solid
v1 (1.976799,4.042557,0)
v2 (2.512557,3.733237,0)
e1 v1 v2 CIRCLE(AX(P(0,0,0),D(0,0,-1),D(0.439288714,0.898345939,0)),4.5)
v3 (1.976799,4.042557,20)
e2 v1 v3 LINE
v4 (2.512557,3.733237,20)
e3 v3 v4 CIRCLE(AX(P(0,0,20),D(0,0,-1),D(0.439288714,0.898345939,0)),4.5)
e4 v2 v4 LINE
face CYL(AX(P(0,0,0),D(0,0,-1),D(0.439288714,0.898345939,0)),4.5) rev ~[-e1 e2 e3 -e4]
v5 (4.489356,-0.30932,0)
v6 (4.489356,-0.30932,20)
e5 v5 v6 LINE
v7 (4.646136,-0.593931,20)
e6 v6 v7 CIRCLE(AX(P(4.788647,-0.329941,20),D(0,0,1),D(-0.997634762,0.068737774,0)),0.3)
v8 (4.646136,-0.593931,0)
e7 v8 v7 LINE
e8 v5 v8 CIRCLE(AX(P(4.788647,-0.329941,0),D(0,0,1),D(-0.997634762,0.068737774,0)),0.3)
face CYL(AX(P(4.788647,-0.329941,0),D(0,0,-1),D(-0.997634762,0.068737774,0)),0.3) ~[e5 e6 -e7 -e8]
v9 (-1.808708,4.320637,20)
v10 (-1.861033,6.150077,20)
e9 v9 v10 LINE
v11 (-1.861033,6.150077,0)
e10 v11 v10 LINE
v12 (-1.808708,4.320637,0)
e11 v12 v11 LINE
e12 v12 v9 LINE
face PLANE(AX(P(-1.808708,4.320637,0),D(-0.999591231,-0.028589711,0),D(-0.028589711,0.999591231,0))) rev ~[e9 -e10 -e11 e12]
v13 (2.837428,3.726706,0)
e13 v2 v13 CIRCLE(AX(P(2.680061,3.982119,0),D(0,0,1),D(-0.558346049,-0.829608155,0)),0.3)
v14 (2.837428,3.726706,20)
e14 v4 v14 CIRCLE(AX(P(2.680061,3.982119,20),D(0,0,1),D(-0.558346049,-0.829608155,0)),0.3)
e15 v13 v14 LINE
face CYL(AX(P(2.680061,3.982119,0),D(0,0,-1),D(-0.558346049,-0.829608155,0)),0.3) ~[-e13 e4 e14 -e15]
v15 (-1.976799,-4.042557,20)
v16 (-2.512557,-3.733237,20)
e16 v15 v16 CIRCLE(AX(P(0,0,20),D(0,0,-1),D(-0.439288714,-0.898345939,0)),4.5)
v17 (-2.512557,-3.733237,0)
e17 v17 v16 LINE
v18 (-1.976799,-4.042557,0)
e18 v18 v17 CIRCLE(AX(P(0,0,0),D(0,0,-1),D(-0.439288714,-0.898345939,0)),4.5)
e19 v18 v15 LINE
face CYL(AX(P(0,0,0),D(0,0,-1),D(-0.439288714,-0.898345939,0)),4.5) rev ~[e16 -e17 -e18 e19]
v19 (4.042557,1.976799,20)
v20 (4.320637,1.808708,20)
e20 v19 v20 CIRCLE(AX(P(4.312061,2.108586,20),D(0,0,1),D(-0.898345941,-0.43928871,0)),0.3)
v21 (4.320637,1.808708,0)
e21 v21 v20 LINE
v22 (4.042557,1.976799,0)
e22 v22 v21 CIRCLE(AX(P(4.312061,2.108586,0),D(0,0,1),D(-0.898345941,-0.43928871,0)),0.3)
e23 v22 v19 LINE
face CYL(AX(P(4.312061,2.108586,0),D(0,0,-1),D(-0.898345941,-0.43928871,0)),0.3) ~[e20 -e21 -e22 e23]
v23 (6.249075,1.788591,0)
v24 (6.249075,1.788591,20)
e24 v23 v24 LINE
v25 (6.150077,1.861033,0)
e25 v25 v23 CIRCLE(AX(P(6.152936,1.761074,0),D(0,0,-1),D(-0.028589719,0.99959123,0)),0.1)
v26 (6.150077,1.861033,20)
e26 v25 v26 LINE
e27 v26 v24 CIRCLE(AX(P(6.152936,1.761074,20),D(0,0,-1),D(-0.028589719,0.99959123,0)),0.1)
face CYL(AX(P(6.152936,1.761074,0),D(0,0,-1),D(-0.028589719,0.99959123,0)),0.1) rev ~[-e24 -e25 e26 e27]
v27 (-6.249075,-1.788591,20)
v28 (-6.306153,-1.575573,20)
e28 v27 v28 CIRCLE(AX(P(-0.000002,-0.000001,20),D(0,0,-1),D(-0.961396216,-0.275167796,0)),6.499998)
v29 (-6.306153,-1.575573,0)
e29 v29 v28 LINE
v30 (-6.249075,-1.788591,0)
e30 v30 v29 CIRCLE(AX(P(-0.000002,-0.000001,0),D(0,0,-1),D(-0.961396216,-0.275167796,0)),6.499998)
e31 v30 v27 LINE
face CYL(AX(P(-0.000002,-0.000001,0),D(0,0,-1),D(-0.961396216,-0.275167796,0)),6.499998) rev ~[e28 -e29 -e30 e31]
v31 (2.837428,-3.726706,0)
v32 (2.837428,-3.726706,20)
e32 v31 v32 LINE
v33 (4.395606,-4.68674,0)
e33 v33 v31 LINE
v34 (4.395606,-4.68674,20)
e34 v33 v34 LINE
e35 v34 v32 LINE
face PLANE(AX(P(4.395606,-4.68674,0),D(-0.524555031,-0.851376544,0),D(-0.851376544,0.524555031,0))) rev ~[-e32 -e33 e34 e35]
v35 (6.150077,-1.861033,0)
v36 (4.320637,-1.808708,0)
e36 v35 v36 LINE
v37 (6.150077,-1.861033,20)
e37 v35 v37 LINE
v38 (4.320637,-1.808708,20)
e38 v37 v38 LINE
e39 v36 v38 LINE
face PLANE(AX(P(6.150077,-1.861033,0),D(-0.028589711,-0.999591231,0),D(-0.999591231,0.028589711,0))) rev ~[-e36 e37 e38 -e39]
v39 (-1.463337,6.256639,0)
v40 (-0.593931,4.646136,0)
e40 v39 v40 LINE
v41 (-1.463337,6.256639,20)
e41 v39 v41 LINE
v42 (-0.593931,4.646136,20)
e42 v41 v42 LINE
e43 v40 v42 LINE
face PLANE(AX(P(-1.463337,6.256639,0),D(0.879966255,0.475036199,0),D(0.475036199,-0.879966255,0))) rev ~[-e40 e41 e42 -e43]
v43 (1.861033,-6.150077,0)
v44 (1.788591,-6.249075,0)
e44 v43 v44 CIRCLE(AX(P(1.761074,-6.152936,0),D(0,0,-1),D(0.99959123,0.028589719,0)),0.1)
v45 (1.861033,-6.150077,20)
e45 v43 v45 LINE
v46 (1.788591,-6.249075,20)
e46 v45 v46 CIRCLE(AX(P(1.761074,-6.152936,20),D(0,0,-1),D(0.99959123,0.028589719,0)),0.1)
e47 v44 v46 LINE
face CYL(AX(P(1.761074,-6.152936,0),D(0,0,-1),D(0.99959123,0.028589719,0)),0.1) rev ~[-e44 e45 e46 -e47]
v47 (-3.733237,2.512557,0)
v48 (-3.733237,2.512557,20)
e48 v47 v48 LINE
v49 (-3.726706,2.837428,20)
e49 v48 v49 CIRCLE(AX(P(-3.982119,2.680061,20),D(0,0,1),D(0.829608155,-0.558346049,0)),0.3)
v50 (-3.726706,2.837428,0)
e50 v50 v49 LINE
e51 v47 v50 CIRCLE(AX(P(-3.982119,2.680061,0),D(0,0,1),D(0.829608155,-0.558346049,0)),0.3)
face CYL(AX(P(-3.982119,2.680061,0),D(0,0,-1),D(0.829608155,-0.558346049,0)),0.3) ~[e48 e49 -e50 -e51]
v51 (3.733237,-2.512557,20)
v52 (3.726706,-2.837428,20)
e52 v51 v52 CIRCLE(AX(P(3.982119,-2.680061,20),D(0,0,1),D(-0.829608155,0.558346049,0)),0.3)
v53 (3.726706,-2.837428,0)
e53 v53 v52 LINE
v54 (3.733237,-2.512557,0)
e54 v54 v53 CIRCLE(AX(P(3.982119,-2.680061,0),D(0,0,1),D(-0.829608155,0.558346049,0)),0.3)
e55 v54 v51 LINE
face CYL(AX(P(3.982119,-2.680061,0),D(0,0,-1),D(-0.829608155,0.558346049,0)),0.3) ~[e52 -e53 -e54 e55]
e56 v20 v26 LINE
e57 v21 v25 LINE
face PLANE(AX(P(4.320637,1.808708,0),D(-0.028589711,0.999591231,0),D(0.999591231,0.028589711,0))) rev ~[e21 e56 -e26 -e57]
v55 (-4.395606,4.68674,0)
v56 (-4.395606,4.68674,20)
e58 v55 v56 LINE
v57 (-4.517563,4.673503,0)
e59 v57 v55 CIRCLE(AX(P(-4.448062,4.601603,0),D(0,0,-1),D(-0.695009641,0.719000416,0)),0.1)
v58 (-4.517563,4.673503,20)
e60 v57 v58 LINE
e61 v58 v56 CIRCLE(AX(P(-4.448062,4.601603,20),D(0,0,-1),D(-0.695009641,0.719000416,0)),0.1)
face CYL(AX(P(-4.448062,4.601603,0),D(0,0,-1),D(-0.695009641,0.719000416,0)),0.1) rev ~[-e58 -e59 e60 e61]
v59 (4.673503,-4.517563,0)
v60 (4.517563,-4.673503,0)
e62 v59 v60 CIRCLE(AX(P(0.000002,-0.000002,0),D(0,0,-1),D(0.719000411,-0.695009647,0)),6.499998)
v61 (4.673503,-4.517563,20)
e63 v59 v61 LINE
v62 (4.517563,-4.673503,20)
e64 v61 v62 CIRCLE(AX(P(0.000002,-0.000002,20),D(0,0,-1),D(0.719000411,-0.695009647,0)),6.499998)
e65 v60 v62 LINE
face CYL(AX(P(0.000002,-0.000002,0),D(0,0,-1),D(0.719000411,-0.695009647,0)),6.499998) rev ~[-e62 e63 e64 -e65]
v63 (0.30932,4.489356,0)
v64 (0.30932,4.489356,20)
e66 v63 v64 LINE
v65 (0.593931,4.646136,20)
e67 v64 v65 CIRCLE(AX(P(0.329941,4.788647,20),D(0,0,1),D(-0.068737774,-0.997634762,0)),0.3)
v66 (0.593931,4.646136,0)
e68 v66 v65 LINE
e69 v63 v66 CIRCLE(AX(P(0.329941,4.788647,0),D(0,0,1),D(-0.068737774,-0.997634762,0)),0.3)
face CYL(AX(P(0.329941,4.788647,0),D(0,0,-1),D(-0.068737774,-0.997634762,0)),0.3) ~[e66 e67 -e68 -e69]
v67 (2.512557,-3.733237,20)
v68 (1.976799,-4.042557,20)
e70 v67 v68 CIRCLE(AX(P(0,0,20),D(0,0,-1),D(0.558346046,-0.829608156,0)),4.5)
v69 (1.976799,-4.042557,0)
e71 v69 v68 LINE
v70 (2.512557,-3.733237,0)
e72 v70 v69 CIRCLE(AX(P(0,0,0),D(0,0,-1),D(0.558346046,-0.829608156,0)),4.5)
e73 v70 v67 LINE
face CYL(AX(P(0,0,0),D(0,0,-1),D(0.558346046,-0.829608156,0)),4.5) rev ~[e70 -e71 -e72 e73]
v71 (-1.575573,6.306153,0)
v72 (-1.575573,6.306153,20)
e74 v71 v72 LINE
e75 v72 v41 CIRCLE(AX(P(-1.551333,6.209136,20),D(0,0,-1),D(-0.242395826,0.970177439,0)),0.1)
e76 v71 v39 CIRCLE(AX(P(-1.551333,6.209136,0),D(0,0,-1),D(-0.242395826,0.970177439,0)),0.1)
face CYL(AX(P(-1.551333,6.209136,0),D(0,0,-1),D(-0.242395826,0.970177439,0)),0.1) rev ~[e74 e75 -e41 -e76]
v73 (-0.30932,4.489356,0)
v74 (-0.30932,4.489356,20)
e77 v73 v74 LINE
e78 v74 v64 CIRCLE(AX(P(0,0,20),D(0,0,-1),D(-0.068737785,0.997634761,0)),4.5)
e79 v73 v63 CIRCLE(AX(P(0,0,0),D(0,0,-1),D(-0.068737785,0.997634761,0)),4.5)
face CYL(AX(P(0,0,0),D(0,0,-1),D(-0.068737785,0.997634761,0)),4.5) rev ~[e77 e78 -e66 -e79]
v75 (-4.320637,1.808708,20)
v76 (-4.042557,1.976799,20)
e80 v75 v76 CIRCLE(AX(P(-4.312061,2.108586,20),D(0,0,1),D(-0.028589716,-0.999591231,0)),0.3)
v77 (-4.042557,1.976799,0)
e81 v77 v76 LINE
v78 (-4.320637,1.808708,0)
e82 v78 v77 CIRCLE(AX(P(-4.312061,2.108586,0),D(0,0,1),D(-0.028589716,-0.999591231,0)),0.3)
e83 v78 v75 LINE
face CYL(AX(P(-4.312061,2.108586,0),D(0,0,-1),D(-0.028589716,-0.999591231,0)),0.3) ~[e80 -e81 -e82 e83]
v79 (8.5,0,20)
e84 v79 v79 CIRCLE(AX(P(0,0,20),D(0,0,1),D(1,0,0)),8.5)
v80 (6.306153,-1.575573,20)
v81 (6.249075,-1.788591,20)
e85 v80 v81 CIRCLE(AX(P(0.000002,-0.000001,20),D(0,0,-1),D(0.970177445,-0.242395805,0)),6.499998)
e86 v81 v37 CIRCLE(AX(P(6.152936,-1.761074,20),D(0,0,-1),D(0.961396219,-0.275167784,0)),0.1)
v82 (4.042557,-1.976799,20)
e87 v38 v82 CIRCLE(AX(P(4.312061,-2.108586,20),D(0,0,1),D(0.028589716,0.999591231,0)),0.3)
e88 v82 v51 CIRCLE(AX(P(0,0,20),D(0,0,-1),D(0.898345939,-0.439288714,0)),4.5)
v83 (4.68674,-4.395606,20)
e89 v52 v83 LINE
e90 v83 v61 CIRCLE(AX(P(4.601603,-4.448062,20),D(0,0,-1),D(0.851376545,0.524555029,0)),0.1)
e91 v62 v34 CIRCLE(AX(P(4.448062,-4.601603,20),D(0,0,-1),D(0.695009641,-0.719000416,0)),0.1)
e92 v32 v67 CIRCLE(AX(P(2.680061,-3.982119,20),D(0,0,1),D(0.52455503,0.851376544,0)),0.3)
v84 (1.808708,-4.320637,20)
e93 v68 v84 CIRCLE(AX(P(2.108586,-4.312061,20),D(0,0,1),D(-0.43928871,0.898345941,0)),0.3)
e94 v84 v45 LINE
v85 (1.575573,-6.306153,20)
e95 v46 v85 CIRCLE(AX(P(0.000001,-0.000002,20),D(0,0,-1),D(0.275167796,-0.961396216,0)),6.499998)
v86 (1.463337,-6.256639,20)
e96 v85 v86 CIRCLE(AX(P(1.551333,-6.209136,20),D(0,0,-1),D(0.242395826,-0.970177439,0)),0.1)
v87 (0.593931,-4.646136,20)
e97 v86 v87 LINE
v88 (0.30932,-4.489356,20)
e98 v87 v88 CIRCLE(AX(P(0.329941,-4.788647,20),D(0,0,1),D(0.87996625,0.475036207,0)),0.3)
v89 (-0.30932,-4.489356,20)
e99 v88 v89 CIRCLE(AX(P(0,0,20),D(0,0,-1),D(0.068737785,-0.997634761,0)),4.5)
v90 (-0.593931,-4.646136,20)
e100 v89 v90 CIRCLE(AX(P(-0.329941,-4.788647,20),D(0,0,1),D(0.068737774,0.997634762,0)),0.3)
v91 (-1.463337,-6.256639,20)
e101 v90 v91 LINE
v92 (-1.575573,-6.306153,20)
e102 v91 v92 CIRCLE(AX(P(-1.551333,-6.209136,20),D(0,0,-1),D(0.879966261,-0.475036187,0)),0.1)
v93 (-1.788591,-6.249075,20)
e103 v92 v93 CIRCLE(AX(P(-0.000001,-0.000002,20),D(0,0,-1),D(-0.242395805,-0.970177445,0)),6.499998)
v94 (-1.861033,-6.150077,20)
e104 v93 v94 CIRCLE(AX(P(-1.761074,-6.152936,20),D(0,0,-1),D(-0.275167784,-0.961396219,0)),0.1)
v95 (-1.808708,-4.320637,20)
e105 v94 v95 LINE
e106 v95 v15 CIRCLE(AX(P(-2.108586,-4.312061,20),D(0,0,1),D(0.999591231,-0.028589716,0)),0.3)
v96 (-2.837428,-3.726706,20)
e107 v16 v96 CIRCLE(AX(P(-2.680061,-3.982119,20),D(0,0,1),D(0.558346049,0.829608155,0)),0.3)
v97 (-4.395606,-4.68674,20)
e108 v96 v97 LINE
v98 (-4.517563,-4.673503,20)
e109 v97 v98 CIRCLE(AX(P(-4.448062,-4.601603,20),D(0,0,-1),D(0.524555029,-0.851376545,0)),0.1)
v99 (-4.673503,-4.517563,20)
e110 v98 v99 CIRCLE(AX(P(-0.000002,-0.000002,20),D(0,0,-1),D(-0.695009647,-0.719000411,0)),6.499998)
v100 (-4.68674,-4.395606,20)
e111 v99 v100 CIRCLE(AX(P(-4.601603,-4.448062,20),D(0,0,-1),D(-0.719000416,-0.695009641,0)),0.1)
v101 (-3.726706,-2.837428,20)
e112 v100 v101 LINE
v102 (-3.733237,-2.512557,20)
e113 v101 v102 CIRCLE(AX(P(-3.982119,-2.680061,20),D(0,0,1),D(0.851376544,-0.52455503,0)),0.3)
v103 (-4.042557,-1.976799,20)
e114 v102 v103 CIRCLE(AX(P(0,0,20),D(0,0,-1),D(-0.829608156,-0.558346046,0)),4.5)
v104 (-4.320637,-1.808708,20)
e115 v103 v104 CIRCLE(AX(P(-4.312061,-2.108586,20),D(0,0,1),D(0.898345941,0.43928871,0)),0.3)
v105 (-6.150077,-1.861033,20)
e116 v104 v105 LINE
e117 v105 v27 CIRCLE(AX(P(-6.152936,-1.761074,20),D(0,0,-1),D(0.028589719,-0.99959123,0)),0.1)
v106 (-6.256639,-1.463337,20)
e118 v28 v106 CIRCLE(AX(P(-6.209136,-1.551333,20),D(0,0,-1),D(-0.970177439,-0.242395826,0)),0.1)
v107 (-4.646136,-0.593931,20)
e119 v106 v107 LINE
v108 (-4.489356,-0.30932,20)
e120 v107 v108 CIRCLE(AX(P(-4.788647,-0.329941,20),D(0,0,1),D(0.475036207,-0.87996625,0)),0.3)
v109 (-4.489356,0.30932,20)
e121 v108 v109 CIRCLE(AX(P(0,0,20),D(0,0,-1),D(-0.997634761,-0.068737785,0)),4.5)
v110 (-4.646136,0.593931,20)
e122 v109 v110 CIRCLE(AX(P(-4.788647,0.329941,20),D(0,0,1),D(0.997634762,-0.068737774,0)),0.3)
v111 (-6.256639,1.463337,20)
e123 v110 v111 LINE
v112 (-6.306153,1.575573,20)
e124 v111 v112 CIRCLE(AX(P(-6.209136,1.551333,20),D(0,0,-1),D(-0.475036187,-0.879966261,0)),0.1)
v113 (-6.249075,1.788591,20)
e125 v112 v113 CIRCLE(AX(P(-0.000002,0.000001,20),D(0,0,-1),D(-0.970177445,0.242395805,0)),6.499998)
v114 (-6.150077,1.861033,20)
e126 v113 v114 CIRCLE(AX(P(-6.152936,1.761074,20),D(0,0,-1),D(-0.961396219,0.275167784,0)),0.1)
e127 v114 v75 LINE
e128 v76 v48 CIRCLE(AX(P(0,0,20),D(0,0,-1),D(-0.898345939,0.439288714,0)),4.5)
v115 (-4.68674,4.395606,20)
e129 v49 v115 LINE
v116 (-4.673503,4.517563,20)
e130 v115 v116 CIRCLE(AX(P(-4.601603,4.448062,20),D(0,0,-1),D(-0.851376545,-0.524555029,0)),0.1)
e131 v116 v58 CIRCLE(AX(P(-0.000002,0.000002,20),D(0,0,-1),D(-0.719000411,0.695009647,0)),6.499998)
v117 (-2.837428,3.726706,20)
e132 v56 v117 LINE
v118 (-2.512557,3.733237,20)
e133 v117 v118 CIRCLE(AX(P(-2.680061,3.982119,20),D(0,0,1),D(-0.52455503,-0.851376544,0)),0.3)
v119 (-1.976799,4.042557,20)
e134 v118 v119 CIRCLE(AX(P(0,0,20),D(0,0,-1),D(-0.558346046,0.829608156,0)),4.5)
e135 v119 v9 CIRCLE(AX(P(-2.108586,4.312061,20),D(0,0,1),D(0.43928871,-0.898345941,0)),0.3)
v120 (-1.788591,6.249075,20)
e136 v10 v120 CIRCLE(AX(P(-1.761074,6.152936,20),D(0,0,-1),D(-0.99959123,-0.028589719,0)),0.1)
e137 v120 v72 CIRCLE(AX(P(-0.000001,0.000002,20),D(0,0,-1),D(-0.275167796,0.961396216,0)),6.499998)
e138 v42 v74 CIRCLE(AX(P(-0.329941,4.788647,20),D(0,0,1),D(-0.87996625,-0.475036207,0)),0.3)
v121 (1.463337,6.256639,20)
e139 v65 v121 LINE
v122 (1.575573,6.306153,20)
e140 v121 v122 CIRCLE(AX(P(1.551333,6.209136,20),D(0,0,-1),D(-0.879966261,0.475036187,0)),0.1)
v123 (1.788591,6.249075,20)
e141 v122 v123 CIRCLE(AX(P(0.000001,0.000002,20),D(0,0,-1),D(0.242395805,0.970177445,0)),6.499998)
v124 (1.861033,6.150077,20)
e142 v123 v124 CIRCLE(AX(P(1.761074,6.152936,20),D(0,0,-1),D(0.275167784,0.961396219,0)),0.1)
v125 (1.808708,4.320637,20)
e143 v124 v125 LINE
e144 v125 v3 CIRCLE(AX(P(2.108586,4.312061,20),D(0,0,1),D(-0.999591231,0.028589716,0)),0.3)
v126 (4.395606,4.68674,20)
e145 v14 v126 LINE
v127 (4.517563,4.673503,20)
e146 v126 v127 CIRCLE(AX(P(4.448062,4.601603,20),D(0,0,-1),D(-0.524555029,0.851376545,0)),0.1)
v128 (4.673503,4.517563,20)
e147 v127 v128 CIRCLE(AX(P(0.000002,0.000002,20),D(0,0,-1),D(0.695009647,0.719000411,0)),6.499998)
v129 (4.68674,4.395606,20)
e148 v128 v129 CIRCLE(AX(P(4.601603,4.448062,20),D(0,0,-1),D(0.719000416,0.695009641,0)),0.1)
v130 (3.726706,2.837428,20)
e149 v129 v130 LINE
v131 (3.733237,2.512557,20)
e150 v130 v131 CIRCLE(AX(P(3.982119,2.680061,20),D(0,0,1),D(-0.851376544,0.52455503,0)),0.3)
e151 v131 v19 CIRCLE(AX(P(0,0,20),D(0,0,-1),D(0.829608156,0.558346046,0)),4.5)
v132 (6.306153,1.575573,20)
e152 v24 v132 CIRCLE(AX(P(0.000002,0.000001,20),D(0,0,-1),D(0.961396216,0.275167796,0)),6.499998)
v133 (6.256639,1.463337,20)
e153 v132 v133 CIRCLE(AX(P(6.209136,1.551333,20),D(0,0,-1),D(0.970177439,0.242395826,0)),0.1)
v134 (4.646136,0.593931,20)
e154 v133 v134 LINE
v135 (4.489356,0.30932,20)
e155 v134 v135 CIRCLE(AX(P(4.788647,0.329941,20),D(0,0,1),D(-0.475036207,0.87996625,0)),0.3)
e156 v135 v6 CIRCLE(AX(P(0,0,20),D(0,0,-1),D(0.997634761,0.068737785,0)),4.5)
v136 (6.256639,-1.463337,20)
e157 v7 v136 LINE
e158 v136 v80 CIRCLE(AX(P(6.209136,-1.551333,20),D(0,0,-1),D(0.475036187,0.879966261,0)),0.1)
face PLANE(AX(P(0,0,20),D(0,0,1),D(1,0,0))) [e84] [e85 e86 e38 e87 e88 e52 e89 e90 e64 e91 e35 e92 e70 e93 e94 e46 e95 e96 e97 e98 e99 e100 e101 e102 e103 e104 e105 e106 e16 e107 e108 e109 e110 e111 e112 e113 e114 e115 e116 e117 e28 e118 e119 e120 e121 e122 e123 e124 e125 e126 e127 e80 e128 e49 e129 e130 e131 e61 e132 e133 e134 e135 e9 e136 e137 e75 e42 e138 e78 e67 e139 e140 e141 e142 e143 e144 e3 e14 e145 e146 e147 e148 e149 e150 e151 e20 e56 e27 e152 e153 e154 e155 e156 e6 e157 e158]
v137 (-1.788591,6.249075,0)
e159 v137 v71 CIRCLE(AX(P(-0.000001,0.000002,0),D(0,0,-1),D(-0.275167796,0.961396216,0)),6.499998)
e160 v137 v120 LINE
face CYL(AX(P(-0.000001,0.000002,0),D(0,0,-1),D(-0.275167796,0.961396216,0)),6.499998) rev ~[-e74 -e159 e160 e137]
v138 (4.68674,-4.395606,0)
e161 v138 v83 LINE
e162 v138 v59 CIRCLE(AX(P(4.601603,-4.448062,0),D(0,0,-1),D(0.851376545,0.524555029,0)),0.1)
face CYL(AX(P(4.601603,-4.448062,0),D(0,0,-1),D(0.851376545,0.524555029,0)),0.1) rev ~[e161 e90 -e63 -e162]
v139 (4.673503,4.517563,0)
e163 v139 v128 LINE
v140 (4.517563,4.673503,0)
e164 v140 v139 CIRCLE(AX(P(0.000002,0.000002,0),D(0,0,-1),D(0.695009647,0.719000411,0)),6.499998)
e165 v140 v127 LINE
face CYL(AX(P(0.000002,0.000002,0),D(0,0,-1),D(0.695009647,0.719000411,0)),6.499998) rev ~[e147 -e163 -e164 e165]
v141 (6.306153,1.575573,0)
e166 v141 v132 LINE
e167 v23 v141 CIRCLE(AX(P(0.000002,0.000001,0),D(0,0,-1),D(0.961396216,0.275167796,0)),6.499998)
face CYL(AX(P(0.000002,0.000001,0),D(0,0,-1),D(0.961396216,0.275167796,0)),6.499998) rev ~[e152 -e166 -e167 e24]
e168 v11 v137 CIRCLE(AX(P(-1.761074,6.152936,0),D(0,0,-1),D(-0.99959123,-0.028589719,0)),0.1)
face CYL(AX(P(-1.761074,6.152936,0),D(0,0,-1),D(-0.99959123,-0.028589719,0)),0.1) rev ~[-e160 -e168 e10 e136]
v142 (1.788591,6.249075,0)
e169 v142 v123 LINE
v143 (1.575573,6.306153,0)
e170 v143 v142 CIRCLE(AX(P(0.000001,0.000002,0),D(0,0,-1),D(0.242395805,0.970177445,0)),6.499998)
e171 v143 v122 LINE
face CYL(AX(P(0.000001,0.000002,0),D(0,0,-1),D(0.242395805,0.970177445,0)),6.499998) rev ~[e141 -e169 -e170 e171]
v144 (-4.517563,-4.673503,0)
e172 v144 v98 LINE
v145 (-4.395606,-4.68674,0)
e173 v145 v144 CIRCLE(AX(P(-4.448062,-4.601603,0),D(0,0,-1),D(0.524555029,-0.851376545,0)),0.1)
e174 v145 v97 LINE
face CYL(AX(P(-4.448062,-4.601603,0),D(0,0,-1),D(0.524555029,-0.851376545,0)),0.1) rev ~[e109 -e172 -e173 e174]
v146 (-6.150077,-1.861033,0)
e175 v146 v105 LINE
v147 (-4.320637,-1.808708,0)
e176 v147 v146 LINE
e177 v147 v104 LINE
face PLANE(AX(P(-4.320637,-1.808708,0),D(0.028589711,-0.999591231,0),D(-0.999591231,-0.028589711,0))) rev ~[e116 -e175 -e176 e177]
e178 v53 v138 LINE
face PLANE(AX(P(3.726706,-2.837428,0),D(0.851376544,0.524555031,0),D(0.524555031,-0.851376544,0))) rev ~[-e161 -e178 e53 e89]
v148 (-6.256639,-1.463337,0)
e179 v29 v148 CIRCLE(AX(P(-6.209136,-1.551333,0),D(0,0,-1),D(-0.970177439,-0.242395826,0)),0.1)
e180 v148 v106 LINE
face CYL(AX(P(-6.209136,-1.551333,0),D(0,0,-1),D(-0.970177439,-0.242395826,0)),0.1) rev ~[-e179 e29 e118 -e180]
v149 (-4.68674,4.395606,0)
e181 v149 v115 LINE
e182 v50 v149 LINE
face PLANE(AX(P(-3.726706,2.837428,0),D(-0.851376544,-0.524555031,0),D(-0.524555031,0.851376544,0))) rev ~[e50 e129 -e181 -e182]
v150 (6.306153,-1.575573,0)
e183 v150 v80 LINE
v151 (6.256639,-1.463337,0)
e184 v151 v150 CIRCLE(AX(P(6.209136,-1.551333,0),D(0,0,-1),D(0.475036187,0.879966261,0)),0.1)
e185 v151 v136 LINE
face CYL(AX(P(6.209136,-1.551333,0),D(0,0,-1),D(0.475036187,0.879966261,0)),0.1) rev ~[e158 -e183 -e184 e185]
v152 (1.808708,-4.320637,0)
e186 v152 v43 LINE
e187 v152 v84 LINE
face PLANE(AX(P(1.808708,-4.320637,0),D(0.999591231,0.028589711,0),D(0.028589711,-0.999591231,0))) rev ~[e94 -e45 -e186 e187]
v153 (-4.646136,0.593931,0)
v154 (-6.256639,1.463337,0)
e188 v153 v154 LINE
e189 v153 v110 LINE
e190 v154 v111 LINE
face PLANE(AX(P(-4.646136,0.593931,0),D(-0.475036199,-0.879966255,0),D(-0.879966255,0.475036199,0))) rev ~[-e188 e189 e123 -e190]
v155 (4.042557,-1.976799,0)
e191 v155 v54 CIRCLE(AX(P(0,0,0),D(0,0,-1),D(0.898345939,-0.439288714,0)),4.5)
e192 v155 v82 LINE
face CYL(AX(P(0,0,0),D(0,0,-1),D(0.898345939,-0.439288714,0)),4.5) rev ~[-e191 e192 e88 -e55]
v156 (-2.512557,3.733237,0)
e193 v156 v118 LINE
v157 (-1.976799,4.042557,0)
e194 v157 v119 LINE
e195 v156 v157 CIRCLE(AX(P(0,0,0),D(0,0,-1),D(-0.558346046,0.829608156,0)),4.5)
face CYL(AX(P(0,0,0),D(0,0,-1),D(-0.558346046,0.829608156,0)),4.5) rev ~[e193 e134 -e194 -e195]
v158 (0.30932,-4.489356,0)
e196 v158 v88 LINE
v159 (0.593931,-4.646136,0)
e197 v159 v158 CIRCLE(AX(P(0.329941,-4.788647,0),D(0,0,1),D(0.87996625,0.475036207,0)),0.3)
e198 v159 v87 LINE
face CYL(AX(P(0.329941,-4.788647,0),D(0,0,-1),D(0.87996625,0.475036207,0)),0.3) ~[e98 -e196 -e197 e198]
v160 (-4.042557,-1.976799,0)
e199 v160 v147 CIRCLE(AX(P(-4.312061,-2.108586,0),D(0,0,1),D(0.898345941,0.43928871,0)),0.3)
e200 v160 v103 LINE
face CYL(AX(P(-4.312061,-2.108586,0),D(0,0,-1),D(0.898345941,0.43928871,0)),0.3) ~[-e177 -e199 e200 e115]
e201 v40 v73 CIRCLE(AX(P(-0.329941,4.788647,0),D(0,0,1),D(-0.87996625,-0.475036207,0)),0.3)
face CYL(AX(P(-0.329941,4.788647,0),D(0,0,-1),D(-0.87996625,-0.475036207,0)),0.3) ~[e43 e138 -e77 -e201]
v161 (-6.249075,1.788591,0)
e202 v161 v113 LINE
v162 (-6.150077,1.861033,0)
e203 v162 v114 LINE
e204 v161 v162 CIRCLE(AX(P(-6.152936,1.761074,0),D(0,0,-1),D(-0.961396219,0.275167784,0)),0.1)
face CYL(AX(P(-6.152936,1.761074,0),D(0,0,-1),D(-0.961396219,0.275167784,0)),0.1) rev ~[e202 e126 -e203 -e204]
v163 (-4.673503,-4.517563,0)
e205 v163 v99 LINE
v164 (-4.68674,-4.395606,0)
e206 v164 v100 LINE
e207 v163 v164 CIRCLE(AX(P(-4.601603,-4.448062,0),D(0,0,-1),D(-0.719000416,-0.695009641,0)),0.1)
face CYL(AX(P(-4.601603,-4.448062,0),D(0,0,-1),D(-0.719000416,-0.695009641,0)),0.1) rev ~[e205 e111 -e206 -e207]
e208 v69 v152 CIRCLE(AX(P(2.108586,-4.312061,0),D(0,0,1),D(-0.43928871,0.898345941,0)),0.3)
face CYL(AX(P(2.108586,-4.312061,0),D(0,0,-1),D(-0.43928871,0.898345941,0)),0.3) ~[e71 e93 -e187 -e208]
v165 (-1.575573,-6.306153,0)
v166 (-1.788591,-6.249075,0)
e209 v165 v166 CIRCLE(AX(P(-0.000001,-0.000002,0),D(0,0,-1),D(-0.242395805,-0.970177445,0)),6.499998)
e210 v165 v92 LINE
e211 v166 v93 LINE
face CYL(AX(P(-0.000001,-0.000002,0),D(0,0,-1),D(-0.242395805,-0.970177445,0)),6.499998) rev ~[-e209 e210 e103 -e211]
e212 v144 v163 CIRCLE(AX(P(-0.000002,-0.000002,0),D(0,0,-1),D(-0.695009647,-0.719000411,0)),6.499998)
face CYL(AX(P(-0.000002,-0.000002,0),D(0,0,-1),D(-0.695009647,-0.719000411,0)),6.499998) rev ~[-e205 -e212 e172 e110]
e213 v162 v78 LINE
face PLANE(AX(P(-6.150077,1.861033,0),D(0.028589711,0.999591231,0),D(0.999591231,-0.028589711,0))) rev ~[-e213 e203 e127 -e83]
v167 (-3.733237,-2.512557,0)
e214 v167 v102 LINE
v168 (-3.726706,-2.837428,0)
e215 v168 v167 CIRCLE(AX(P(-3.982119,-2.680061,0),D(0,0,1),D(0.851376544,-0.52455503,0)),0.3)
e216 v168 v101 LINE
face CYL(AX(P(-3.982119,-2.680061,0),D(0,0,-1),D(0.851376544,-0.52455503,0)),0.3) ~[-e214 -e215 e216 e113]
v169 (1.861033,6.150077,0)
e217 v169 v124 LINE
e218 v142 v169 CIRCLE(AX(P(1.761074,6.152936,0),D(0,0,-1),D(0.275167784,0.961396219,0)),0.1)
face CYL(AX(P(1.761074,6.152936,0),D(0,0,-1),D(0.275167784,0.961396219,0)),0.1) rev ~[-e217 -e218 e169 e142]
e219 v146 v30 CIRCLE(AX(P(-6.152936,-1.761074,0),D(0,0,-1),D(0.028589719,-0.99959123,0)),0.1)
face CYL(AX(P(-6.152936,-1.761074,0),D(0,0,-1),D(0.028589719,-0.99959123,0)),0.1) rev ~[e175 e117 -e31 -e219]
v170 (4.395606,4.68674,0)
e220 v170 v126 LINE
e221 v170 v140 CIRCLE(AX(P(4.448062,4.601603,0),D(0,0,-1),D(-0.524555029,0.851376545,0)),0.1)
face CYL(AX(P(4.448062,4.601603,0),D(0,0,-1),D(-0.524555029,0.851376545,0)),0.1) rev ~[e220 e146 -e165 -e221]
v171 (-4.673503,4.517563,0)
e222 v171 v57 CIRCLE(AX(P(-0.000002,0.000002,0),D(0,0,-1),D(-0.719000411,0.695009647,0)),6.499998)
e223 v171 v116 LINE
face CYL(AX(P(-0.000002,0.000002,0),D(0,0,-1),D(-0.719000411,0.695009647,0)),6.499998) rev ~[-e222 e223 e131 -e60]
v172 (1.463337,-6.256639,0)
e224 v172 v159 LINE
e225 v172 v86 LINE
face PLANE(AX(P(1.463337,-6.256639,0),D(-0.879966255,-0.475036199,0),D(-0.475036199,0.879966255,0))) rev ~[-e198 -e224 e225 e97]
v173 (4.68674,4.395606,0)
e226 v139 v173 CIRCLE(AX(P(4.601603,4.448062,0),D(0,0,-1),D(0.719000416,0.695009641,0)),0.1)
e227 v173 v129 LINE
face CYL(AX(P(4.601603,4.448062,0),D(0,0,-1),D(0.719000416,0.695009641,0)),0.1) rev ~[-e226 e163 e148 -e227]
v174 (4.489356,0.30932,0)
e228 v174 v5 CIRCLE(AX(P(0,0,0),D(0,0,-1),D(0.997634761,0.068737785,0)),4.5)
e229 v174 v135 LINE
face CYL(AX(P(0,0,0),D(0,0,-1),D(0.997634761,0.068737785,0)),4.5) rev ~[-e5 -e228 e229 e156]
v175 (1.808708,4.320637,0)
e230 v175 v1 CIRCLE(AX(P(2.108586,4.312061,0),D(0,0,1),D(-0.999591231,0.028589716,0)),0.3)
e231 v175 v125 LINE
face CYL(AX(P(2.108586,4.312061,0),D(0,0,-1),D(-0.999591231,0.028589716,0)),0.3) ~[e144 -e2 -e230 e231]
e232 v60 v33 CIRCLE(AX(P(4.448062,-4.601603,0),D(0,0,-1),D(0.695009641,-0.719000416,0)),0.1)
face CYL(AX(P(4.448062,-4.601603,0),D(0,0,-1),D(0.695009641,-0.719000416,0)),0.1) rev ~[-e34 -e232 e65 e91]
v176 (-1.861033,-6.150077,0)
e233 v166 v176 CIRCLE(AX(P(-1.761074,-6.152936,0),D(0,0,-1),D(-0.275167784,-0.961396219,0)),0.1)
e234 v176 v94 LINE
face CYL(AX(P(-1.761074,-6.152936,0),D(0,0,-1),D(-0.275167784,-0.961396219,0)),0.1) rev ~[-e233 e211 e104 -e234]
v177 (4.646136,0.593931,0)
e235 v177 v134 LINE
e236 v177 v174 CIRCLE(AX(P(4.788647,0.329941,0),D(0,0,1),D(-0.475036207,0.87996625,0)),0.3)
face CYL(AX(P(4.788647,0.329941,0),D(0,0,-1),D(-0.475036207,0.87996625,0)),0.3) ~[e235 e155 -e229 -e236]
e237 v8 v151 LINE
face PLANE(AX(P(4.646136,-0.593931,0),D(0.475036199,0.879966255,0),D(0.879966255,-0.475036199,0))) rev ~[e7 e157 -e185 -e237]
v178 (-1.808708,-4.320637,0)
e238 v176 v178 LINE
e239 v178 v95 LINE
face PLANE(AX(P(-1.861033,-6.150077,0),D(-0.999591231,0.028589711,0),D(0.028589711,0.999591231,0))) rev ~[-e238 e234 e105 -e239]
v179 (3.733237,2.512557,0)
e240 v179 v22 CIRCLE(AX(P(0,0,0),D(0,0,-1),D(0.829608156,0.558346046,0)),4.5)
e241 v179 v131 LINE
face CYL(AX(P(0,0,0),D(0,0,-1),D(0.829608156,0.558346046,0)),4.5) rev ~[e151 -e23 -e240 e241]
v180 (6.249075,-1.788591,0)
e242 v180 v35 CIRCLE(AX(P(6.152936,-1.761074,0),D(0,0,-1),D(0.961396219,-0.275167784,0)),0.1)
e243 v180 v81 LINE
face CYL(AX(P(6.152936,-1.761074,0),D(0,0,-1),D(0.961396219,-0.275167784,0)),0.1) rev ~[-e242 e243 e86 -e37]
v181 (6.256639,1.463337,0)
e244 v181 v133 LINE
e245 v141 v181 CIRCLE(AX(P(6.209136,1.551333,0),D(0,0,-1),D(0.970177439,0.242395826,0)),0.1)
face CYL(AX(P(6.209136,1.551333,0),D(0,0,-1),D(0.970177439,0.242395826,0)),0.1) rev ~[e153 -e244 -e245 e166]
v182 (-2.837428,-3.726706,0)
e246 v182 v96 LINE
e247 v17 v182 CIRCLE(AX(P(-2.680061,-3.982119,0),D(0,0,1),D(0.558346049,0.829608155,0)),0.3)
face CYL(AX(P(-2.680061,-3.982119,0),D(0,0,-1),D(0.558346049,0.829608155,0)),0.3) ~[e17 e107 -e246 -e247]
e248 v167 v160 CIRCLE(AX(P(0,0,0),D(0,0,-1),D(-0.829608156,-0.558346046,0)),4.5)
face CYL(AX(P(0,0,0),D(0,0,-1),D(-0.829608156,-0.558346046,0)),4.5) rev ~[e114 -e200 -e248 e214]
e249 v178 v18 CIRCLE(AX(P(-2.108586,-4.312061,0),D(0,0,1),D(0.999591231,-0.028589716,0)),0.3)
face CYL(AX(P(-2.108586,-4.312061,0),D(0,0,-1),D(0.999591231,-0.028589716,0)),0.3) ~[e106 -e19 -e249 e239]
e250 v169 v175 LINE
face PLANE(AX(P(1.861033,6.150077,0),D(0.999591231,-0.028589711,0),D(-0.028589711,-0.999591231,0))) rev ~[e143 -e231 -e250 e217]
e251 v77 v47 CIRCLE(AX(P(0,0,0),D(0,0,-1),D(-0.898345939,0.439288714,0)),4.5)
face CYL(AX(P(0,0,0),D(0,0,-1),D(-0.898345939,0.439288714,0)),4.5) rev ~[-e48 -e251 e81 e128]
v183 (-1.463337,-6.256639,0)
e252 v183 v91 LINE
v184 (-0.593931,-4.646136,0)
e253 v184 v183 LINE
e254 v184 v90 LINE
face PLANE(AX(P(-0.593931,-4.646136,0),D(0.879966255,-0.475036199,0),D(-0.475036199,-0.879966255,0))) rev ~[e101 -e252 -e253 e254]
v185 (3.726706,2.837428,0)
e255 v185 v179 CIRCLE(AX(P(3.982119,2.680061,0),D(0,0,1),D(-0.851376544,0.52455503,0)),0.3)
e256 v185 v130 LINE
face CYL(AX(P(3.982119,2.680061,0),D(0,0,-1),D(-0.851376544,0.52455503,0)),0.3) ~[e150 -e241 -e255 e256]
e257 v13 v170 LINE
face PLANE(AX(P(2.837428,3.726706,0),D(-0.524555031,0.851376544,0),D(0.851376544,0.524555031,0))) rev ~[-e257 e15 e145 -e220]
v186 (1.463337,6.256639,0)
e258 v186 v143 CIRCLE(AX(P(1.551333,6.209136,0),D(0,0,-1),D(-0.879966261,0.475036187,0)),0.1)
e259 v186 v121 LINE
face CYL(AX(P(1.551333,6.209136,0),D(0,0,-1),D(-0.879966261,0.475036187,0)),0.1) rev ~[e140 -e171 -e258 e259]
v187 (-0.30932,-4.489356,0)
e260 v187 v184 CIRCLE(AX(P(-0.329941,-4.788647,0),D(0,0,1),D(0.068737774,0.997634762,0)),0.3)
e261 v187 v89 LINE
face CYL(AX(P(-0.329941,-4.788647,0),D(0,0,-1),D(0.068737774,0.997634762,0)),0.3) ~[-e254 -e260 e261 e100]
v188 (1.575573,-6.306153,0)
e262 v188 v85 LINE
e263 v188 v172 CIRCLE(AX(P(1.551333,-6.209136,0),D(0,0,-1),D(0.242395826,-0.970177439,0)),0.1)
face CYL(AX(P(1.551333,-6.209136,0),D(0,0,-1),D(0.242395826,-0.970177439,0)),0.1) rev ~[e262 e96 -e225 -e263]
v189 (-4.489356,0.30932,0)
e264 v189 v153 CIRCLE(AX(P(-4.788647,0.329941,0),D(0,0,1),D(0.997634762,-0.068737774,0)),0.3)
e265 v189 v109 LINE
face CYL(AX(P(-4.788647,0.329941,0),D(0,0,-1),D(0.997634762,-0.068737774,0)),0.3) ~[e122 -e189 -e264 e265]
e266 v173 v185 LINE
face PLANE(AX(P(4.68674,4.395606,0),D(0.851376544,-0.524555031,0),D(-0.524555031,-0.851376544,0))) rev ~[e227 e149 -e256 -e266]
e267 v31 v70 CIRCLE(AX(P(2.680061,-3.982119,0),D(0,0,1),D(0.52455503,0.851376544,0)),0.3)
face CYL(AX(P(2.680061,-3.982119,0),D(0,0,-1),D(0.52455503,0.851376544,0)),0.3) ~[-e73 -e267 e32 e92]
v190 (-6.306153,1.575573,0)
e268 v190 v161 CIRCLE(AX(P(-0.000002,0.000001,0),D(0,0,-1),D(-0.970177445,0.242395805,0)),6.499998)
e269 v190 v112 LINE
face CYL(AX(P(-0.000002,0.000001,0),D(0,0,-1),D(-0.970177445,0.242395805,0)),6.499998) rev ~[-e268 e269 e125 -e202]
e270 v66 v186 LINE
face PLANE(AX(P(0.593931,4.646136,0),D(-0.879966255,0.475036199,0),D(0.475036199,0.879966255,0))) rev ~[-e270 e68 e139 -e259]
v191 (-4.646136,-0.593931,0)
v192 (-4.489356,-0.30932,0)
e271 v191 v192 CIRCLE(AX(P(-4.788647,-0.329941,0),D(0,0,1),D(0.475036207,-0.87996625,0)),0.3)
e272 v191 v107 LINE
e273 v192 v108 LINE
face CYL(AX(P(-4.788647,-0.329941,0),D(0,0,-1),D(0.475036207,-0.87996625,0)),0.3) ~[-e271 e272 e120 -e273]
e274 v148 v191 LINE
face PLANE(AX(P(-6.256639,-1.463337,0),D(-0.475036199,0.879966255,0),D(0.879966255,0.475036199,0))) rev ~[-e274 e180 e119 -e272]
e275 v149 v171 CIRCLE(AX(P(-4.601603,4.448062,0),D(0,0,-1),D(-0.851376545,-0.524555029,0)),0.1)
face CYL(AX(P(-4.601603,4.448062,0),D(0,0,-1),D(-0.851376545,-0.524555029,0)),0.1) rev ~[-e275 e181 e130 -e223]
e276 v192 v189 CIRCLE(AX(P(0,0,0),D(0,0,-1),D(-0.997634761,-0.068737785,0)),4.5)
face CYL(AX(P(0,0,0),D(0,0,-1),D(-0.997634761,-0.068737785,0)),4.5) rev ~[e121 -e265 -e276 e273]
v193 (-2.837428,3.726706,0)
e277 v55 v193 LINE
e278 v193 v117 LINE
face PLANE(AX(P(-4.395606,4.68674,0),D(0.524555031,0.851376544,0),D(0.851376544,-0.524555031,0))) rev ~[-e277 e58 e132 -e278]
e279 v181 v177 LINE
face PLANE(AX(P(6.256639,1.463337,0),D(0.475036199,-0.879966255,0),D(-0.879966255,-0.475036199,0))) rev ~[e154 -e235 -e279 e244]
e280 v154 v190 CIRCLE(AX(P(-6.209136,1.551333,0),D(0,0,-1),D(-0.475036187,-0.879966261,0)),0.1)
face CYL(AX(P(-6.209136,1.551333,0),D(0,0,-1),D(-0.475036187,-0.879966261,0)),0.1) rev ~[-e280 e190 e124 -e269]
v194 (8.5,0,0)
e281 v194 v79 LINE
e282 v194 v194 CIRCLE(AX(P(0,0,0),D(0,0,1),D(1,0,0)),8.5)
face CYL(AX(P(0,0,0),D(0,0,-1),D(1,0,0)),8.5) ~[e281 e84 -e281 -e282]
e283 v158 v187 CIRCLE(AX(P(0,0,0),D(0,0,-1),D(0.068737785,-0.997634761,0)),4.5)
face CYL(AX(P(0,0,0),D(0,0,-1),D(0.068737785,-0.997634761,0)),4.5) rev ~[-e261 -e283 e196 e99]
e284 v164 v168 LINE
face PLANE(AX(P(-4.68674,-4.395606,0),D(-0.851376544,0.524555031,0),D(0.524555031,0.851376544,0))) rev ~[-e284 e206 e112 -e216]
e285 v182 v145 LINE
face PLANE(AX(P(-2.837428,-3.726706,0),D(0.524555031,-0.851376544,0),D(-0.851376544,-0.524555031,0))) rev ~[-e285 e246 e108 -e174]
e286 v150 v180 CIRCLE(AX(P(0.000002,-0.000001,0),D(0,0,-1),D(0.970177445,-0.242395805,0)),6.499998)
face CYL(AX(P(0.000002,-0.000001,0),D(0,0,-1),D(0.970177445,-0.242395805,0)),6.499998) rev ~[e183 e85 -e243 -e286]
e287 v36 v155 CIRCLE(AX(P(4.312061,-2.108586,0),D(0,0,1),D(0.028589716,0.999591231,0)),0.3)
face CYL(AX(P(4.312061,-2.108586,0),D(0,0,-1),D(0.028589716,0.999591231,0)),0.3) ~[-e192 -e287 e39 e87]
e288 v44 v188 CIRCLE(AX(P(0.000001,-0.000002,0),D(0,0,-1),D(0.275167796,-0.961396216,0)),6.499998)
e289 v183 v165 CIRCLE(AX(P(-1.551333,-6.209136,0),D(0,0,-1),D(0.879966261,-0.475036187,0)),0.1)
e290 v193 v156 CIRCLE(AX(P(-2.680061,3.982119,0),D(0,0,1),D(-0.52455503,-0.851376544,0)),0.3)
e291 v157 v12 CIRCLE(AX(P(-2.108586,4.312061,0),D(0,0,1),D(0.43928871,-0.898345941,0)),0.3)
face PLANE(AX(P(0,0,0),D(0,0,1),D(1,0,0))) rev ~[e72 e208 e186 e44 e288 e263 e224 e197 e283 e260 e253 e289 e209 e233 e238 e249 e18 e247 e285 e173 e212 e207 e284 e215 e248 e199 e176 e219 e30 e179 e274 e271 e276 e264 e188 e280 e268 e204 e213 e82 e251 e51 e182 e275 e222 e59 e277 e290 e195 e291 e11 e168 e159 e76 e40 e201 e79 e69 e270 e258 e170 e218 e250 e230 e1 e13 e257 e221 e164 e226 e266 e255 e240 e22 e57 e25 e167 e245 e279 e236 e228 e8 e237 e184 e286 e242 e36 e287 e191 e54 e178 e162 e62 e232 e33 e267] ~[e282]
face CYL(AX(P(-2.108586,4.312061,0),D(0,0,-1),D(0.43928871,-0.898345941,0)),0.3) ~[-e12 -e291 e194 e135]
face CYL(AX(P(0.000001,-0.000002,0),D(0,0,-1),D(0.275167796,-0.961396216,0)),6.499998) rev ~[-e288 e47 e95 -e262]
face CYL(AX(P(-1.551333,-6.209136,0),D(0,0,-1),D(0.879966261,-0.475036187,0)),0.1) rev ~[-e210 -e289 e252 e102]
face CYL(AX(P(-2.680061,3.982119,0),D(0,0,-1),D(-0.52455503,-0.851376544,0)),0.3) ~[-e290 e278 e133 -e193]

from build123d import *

# Parameters (mm, degrees)
SKETCH1_R           = 8.5
BOSS_EXTRUDE1_DEPTH = 20


with BuildPart() as part:
    # Sketch1 → Boss-Extrude1 (new body)
    with BuildSketch(Plane.XY):
        Circle(SKETCH1_R)
        with BuildLine():
            Line((-1.463336561, 6.256639256), (-0.593931236, 4.646135995))
            ThreePointArc((-0.593931236, 4.646135995), (-0.474689485, 4.525877032), (-0.309320024, 4.489356426))
            ThreePointArc((-0.309320024, 4.489356426), (0, 4.5), (0.309320024, 4.489356426))
            ThreePointArc((0.309320024, 4.489356426), (0.474689485, 4.525877032), (0.593931236, 4.646135995))
            Line((0.593931236, 4.646135995), (1.463336561, 6.256639256))
            ThreePointArc((1.463336561, 6.256639256), (1.510970427, 6.300627973), (1.575572767, 6.30615338))
            ThreePointArc((1.575572767, 6.30615338), (1.682323793, 6.278517871), (1.788590648, 6.249075411))
            ThreePointArc((1.788590648, 6.249075411), (1.841775212, 6.211989098), (1.861032992, 6.150076818))
            Line((1.861032992, 6.150076818), (1.808708459, 4.320637419))
            ThreePointArc((1.808708459, 4.320637419), (1.851845362, 4.156869226), (1.976799214, 4.042556724))
            ThreePointArc((1.976799214, 4.042556724), (2.25, 3.897114317), (2.512557212, 3.7332367))
            ThreePointArc((2.512557212, 3.7332367), (2.674031669, 3.682179741), (2.837427536, 3.726706183))
            Line((2.837427536, 3.726706183), (4.395606264, 4.686740257))
            ThreePointArc((4.395606264, 4.686740257), (4.458852761, 4.70101867), (4.517562732, 4.673502644))
            ThreePointArc((4.517562732, 4.673502644), (4.596194078, 4.596194078), (4.673502644, 4.517562732))
            ThreePointArc((4.673502644, 4.517562732), (4.70101867, 4.458852761), (4.686740257, 4.395606264))
            Line((4.686740257, 4.395606264), (3.726706183, 2.837427536))
            ThreePointArc((3.726706183, 2.837427536), (3.682179741, 2.674031669), (3.7332367, 2.512557212))
            ThreePointArc((3.7332367, 2.512557212), (3.897114317, 2.25), (4.042556724, 1.976799214))
            ThreePointArc((4.042556724, 1.976799214), (4.156869226, 1.851845362), (4.320637419, 1.808708459))
            Line((4.320637419, 1.808708459), (6.150076818, 1.861032992))
            ThreePointArc((6.150076818, 1.861032992), (6.211989098, 1.841775212), (6.249075411, 1.788590648))
            ThreePointArc((6.249075411, 1.788590648), (6.278517871, 1.682323793), (6.30615338, 1.575572767))
            ThreePointArc((6.30615338, 1.575572767), (6.300627973, 1.510970427), (6.256639256, 1.463336561))
            Line((6.256639256, 1.463336561), (4.646135995, 0.593931236))
            ThreePointArc((4.646135995, 0.593931236), (4.525877032, 0.474689485), (4.489356426, 0.309320024))
            ThreePointArc((4.489356426, 0.309320024), (4.5, 0), (4.489356426, -0.309320024))
            ThreePointArc((4.489356426, -0.309320024), (4.525877032, -0.474689485), (4.646135995, -0.593931236))
            Line((4.646135995, -0.593931236), (6.256639256, -1.463336561))
            ThreePointArc((6.256639256, -1.463336561), (6.300627973, -1.510970427), (6.30615338, -1.575572767))
            ThreePointArc((6.30615338, -1.575572767), (6.278517871, -1.682323793), (6.249075411, -1.788590648))
            ThreePointArc((6.249075411, -1.788590648), (6.211989098, -1.841775212), (6.150076818, -1.861032992))
            Line((6.150076818, -1.861032992), (4.320637419, -1.808708459))
            ThreePointArc((4.320637419, -1.808708459), (4.156869226, -1.851845362), (4.042556724, -1.976799214))
            ThreePointArc((4.042556724, -1.976799214), (3.897114317, -2.25), (3.7332367, -2.512557212))
            ThreePointArc((3.7332367, -2.512557212), (3.682179741, -2.674031669), (3.726706183, -2.837427536))
            Line((3.726706183, -2.837427536), (4.686740257, -4.395606264))
            ThreePointArc((4.686740257, -4.395606264), (4.70101867, -4.458852761), (4.673502644, -4.517562732))
            ThreePointArc((4.673502644, -4.517562732), (4.596194078, -4.596194078), (4.517562732, -4.673502644))
            ThreePointArc((4.517562732, -4.673502644), (4.458852761, -4.70101867), (4.395606264, -4.686740257))
            Line((4.395606264, -4.686740257), (2.837427536, -3.726706183))
            ThreePointArc((2.837427536, -3.726706183), (2.674031669, -3.682179741), (2.512557212, -3.7332367))
            ThreePointArc((2.512557212, -3.7332367), (2.25, -3.897114317), (1.976799214, -4.042556724))
            ThreePointArc((1.976799214, -4.042556724), (1.851845362, -4.156869226), (1.808708459, -4.320637419))
            Line((1.808708459, -4.320637419), (1.861032992, -6.150076818))
            ThreePointArc((1.861032992, -6.150076818), (1.841775212, -6.211989098), (1.788590648, -6.249075411))
            ThreePointArc((1.788590648, -6.249075411), (1.682323793, -6.278517871), (1.575572767, -6.30615338))
            ThreePointArc((1.575572767, -6.30615338), (1.510970427, -6.300627973), (1.463336561, -6.256639256))
            Line((1.463336561, -6.256639256), (0.593931236, -4.646135995))
            ThreePointArc((0.593931236, -4.646135995), (0.474689485, -4.525877032), (0.309320024, -4.489356426))
            ThreePointArc((0.309320024, -4.489356426), (0, -4.5), (-0.309320024, -4.489356426))
            ThreePointArc((-0.309320024, -4.489356426), (-0.474689485, -4.525877032), (-0.593931236, -4.646135995))
            Line((-0.593931236, -4.646135995), (-1.463336561, -6.256639256))
            ThreePointArc((-1.463336561, -6.256639256), (-1.510970427, -6.300627973), (-1.575572767, -6.30615338))
            ThreePointArc((-1.575572767, -6.30615338), (-1.682323793, -6.278517871), (-1.788590648, -6.249075411))
            ThreePointArc((-1.788590648, -6.249075411), (-1.841775212, -6.211989098), (-1.861032992, -6.150076818))
            Line((-1.861032992, -6.150076818), (-1.808708459, -4.320637419))
            ThreePointArc((-1.808708459, -4.320637419), (-1.851845362, -4.156869226), (-1.976799214, -4.042556724))
            ThreePointArc((-1.976799214, -4.042556724), (-2.25, -3.897114317), (-2.512557212, -3.7332367))
            ThreePointArc((-2.512557212, -3.7332367), (-2.674031669, -3.682179741), (-2.837427536, -3.726706183))
            Line((-2.837427536, -3.726706183), (-4.395606264, -4.686740257))
            ThreePointArc((-4.395606264, -4.686740257), (-4.458852761, -4.70101867), (-4.517562732, -4.673502644))
            ThreePointArc((-4.517562732, -4.673502644), (-4.596194078, -4.596194078), (-4.673502644, -4.517562732))
            ThreePointArc((-4.673502644, -4.517562732), (-4.70101867, -4.458852761), (-4.686740257, -4.395606264))
            Line((-4.686740257, -4.395606264), (-3.726706183, -2.837427536))
            ThreePointArc((-3.726706183, -2.837427536), (-3.682179741, -2.674031669), (-3.7332367, -2.512557212))
            ThreePointArc((-3.7332367, -2.512557212), (-3.897114317, -2.25), (-4.042556724, -1.976799214))
            ThreePointArc((-4.042556724, -1.976799214), (-4.156869226, -1.851845362), (-4.320637419, -1.808708459))
            Line((-4.320637419, -1.808708459), (-6.150076818, -1.861032992))
            ThreePointArc((-6.150076818, -1.861032992), (-6.211989098, -1.841775212), (-6.249075411, -1.788590648))
            ThreePointArc((-6.249075411, -1.788590648), (-6.278517871, -1.682323793), (-6.30615338, -1.575572767))
            ThreePointArc((-6.30615338, -1.575572767), (-6.300627973, -1.510970427), (-6.256639256, -1.463336561))
            Line((-6.256639256, -1.463336561), (-4.646135995, -0.593931236))
            ThreePointArc((-4.646135995, -0.593931236), (-4.525877032, -0.474689485), (-4.489356426, -0.309320024))
            ThreePointArc((-4.489356426, -0.309320024), (-4.5, 0), (-4.489356426, 0.309320024))
            ThreePointArc((-4.489356426, 0.309320024), (-4.525877032, 0.474689485), (-4.646135995, 0.593931236))
            Line((-4.646135995, 0.593931236), (-6.256639256, 1.463336561))
            ThreePointArc((-6.256639256, 1.463336561), (-6.300627973, 1.510970427), (-6.30615338, 1.575572767))
            ThreePointArc((-6.30615338, 1.575572767), (-6.278517871, 1.682323793), (-6.249075411, 1.788590648))
            ThreePointArc((-6.249075411, 1.788590648), (-6.211989098, 1.841775212), (-6.150076818, 1.861032992))
            Line((-6.150076818, 1.861032992), (-4.320637419, 1.808708459))
            ThreePointArc((-4.320637419, 1.808708459), (-4.156869226, 1.851845362), (-4.042556724, 1.976799214))
            ThreePointArc((-4.042556724, 1.976799214), (-3.897114317, 2.25), (-3.7332367, 2.512557212))
            ThreePointArc((-3.7332367, 2.512557212), (-3.682179741, 2.674031669), (-3.726706183, 2.837427536))
            Line((-3.726706183, 2.837427536), (-4.686740257, 4.395606264))
            ThreePointArc((-4.686740257, 4.395606264), (-4.70101867, 4.458852761), (-4.673502644, 4.517562732))
            ThreePointArc((-4.673502644, 4.517562732), (-4.596194078, 4.596194078), (-4.517562732, 4.673502644))
            ThreePointArc((-4.517562732, 4.673502644), (-4.458852761, 4.70101867), (-4.395606264, 4.686740257))
            Line((-4.395606264, 4.686740257), (-2.837427536, 3.726706183))
            ThreePointArc((-2.837427536, 3.726706183), (-2.674031669, 3.682179741), (-2.512557212, 3.7332367))
            ThreePointArc((-2.512557212, 3.7332367), (-2.25, 3.897114317), (-1.976799214, 4.042556724))
            ThreePointArc((-1.976799214, 4.042556724), (-1.851845362, 4.156869226), (-1.808708459, 4.320637419))
            Line((-1.808708459, 4.320637419), (-1.861032992, 6.150076818))
            ThreePointArc((-1.861032992, 6.150076818), (-1.841775212, 6.211989098), (-1.788590648, 6.249075411))
            ThreePointArc((-1.788590648, 6.249075411), (-1.682323793, 6.278517871), (-1.575572767, 6.30615338))
            ThreePointArc((-1.575572767, 6.30615338), (-1.510970427, 6.300627973), (-1.463336561, 6.256639256))
        make_face(mode=Mode.SUBTRACT)
    extrude(amount=BOSS_EXTRUDE1_DEPTH)


solid = part.part
